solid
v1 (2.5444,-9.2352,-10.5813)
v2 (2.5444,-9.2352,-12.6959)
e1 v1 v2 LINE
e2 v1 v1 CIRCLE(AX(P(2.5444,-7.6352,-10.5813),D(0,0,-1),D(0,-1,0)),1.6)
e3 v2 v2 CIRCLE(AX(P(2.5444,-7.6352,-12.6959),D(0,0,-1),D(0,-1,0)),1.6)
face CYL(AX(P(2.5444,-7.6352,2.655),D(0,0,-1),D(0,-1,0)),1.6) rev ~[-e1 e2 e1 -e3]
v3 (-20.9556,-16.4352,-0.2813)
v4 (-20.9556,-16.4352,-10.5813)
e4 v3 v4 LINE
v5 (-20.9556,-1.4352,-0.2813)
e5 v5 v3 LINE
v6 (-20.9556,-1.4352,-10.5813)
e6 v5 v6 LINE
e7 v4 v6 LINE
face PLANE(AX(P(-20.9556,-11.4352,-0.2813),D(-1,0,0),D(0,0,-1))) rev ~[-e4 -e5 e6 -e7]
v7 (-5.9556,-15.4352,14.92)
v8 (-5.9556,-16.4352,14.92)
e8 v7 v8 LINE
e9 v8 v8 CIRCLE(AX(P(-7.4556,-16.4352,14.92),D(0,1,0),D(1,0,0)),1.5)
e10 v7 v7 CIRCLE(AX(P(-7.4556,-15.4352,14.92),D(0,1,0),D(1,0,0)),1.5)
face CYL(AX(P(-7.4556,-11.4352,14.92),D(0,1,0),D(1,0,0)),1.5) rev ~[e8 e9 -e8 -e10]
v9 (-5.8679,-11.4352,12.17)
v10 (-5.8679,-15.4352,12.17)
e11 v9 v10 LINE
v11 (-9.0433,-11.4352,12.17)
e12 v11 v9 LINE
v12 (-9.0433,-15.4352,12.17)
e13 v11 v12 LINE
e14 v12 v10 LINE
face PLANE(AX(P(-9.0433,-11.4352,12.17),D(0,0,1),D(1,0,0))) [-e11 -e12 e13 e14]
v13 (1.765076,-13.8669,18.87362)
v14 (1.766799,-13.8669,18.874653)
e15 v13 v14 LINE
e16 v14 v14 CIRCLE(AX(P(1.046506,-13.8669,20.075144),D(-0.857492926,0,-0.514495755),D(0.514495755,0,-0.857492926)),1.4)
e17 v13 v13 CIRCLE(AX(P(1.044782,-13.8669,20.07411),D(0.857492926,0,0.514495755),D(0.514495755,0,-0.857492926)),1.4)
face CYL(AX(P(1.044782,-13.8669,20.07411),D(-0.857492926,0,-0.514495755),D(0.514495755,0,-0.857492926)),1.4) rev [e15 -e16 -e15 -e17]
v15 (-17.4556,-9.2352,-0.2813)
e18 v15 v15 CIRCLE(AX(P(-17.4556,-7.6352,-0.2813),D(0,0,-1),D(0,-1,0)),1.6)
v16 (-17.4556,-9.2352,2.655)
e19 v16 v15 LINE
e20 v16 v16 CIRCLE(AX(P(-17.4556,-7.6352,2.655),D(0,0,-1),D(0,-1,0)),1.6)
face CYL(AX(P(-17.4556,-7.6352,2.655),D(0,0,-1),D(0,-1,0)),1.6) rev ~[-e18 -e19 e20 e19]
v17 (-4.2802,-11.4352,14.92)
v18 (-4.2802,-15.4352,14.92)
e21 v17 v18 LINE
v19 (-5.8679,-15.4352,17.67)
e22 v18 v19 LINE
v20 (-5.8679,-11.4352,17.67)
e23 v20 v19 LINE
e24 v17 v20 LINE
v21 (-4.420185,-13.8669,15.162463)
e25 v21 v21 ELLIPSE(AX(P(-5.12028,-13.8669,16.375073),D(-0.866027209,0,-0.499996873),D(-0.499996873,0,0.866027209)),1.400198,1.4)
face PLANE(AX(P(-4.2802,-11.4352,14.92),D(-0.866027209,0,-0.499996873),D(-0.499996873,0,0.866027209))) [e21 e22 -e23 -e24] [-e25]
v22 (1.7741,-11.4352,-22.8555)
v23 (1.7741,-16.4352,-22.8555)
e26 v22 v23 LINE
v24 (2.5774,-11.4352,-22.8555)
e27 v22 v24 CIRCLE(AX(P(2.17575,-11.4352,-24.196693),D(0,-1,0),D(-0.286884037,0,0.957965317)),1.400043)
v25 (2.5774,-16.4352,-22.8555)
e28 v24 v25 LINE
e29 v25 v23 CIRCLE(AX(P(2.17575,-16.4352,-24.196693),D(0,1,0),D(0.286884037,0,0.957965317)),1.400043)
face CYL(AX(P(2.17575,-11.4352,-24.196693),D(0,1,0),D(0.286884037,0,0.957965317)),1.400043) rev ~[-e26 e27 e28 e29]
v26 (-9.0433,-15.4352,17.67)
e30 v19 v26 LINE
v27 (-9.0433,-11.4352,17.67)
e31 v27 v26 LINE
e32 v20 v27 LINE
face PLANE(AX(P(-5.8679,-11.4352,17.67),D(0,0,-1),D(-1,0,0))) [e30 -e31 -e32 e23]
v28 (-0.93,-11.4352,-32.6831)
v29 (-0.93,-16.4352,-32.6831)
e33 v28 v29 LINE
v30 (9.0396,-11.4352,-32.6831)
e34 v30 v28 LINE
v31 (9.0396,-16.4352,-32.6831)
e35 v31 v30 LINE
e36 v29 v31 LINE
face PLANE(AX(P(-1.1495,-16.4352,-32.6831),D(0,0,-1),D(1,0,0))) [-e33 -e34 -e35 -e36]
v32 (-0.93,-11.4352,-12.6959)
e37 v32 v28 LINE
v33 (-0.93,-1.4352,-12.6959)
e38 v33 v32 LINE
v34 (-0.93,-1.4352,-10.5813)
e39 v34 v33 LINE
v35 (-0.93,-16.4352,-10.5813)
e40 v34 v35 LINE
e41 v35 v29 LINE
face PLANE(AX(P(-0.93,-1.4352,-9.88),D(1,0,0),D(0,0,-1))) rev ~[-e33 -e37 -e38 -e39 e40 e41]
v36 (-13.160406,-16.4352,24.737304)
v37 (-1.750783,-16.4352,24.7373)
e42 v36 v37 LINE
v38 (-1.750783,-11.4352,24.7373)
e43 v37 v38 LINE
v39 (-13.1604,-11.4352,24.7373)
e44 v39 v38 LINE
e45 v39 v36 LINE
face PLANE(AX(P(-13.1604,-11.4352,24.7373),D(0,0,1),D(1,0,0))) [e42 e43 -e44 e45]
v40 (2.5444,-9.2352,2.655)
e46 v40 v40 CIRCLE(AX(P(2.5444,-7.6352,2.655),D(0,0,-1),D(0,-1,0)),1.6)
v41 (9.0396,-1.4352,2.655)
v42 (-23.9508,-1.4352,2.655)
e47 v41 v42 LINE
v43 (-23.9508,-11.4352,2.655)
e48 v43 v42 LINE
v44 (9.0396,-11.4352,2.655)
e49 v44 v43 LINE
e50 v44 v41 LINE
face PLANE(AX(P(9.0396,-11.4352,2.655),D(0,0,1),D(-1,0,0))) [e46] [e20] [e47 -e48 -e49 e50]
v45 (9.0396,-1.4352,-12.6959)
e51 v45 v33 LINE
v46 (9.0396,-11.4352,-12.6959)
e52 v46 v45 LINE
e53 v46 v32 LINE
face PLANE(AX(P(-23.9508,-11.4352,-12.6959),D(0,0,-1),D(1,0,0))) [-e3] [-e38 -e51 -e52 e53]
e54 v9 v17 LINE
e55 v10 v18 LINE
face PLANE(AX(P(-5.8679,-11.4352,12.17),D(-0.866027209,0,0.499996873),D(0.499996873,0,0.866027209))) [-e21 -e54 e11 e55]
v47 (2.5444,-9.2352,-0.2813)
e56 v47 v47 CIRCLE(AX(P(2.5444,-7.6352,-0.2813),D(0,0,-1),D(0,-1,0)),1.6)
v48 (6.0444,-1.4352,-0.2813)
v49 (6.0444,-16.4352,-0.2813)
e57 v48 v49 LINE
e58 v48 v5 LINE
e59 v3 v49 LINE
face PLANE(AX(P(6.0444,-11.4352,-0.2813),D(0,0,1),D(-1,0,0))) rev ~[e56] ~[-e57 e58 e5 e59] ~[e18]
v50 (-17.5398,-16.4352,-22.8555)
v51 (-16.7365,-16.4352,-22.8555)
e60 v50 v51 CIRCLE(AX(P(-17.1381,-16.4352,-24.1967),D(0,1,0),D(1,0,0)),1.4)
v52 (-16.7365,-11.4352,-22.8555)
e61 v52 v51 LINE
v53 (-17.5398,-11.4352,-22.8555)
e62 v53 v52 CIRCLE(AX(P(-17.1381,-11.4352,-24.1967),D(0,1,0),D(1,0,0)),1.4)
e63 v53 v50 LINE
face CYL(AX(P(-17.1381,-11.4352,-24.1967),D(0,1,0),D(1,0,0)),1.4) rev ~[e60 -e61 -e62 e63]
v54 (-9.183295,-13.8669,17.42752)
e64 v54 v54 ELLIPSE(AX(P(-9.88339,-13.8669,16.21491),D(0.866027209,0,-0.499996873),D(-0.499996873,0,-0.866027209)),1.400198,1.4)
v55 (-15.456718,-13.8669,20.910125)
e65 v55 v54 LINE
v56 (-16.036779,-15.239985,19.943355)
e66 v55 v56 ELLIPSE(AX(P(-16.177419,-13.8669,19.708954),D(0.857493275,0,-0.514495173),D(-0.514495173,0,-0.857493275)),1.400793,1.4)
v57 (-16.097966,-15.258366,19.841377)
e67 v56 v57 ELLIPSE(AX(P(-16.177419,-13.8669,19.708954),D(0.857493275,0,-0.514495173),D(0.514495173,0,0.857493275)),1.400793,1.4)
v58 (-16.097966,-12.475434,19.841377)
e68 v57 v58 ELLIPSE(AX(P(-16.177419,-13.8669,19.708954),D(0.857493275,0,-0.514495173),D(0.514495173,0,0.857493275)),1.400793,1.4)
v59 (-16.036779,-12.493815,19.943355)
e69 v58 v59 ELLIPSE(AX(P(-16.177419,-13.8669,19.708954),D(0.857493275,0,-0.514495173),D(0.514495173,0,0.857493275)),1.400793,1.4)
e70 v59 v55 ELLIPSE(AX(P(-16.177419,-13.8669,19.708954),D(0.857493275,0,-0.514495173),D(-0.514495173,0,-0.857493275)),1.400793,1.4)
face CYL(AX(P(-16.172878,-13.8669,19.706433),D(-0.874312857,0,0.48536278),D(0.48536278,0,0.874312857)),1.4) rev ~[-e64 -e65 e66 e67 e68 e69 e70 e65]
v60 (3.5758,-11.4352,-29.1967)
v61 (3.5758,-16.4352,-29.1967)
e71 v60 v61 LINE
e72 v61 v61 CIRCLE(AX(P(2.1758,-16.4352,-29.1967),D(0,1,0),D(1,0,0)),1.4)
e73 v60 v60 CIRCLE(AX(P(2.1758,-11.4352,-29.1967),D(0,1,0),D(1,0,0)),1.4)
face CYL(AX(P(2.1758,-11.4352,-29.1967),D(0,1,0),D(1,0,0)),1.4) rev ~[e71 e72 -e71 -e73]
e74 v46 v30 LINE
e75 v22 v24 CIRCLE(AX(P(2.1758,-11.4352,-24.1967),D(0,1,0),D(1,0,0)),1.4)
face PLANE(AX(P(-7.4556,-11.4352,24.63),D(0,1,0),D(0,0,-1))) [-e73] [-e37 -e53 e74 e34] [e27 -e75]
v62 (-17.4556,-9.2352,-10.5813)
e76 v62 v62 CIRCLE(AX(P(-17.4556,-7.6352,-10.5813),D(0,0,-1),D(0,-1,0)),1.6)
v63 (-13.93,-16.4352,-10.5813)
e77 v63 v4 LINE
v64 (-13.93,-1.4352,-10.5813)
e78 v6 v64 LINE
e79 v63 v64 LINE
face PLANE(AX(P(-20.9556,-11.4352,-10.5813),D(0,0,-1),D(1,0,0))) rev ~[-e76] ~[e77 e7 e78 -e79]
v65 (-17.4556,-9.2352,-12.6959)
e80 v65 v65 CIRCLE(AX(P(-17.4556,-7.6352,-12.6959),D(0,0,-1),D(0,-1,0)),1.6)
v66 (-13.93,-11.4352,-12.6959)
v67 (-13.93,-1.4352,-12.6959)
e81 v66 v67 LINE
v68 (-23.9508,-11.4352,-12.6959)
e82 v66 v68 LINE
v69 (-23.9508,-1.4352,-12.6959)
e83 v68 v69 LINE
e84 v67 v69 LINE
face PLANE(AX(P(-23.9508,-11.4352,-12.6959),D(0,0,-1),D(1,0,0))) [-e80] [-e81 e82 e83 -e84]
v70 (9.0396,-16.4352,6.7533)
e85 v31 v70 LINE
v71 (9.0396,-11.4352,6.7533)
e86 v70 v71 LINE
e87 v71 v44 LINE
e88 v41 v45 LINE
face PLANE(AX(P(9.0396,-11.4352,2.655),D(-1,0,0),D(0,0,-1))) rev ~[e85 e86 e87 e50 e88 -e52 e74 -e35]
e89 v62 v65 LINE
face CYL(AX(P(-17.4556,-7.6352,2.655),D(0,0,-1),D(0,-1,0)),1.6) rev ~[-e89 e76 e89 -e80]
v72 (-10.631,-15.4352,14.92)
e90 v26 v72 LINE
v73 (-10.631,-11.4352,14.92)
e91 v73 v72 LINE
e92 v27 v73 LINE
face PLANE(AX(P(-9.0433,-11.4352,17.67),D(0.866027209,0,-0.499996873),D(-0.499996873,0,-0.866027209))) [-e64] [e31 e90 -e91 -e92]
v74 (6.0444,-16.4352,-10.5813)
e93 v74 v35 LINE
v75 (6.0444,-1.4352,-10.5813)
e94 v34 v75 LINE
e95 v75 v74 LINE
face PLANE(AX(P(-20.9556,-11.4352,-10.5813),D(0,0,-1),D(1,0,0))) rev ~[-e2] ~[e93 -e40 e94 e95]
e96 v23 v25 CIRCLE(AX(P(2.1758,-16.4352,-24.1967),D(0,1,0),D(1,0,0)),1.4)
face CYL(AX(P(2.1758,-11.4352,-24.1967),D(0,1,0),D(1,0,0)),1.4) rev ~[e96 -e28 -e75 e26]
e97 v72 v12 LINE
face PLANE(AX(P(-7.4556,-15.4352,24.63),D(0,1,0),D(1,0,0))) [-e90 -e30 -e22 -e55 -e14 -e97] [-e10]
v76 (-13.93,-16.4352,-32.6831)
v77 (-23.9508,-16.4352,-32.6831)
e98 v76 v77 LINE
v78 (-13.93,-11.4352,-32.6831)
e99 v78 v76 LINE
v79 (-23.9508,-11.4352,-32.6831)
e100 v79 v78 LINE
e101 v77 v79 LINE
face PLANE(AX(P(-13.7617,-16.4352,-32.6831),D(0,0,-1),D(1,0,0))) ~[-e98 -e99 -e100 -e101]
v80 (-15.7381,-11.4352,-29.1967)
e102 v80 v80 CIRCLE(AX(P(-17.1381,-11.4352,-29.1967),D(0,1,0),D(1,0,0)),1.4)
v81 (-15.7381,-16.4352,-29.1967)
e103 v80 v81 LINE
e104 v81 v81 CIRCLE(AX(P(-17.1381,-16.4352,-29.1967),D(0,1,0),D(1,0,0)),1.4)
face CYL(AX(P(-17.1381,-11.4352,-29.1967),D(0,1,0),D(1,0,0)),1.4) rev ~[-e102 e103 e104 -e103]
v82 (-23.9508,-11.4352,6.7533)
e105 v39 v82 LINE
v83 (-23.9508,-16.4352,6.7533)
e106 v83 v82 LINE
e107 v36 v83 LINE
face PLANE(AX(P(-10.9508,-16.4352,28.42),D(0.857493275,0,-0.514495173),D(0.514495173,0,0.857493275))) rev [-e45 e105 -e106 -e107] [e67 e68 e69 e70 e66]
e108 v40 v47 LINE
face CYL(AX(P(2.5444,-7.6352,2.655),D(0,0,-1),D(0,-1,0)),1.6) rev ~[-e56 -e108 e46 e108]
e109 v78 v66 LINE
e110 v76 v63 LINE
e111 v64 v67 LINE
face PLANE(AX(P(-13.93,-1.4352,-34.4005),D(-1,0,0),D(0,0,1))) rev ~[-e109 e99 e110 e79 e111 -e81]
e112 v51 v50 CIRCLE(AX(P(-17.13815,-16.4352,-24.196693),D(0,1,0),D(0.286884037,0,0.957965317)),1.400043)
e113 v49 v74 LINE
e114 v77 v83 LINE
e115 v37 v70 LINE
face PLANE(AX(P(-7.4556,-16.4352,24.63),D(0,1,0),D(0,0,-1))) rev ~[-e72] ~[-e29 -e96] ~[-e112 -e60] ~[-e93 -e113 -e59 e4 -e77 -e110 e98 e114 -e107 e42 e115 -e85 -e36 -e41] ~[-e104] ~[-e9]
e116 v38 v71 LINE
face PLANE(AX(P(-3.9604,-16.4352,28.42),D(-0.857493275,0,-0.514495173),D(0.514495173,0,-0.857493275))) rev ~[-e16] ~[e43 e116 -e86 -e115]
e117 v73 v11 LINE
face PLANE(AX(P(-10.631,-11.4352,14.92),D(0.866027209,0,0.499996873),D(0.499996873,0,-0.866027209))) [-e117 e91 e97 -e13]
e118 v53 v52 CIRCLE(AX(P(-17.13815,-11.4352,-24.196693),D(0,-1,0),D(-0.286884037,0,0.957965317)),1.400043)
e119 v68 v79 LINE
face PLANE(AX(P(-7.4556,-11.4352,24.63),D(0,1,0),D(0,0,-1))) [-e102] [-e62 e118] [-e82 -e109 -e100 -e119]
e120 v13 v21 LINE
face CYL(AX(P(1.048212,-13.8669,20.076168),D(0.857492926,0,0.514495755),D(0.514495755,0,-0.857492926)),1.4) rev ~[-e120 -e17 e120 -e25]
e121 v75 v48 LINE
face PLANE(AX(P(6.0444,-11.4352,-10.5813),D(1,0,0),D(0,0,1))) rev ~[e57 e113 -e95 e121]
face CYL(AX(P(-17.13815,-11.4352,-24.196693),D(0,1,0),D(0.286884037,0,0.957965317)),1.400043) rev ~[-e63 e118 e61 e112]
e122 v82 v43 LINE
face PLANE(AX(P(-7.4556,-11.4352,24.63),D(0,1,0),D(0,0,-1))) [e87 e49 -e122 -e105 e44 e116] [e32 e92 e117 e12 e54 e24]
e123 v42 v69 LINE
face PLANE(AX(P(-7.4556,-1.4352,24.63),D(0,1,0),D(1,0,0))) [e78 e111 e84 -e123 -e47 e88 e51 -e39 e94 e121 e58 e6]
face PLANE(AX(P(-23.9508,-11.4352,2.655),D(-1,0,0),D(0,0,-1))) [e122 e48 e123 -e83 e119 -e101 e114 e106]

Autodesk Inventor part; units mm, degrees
ref_plane "YZ Plane" through (0, 0, 0) normal (1, 0, 0) x (0, 1, 0)
ref_plane "XZ Plane" through (0, 0, 0) normal (0, 1, 0) x (-1, 0, 0)
ref_plane "XY Plane" through (0, 0, 0) normal (0, 0, 1) x (1, 0, 0)
ref_plane "Work Plane8" through (-7.4556, -16.4352, 24.63) normal (0, 1, 0) x (0, 0, -1)
sketch "Sketch12" plane through (-7.4556, -16.4352, 24.63) normal (0, 1, 0) x (0, 0, -1)
  line L0 (59.1648, 4.9103) -> (72.1552, 12.4103) construction
  arc A0 (80.66, 7.5) -> (72.1552, 12.4103) centre (70.66, 0) ccw construction
  line L1 (80.66, 7.5) -> (80.66, -7.5) construction
  arc A1 (72.1552, -12.4103) -> (80.66, -7.5) centre (70.66, 0) ccw construction
  line L2 (72.1552, -12.4103) -> (59.1648, -4.9103) construction
  arc A2 (59.1648, 4.9103) -> (59.1648, -4.9103) centre (70.66, 0) ccw construction
  line L3 (57.3131, 5.945) -> (46.6951, 5.945) construction
  line L4 (46.6951, 5.945) -> (46.6951, -5.9961)
  line L5 (46.6951, -5.9961) -> (57.3131, -5.9961)
  line L6 (57.3131, -5.9961) -> (57.3131, -15)
  line L7 (57.3131, -15) -> (85.66, -15) construction
  line L8 (85.66, -15) -> (85.66, 15) construction
  line L9 (85.66, 15) -> (57.3131, 15) construction
  line L10 (57.3131, 15) -> (57.3131, 5.945) construction
  line L11 (46.6951, -6.3061) -> (57.3131, -6.3061)
  line L12 (41.63, -16.87) -> (45.71, -16.87) projected
  line L13 (55.66, -15) -> (46.2855, -13.3689) projected
  line L14 (55.66, -15) -> (105.1976, -15) construction
  line L15 (46.6951, 0) -> (46.6951, -6.3061)
  line L16 (9.71, -3.1754) -> (12.46, -1.5877) construction
  line L17 (12.46, -1.5877) -> (12.46, 1.5877) construction
  line L18 (12.46, 1.5877) -> (9.71, 3.1754) construction
  line L19 (9.71, 3.1754) -> (6.96, 1.5877) construction
  line L20 (6.96, 1.5877) -> (6.96, -1.5877) construction
  line L21 (6.96, -1.5877) -> (9.71, -3.1754) construction
  line L22 (-3.79, -3.4952) -> (-3.79, 3.4952)
  line L23 (-3.79, 0) -> (-3.79, 0)
  line L24 (-3.79, 0) -> (-3.79, -3.4952)
  line L25 (-3.79, -3.4952) -> (17.8767, -16.4952)
  line L26 (46.6951, 0) -> (-3.79, 0)
  line L27 (57.3131, -6.3061) -> (57.3131, -15)
  line L28 (-3.79, -8.16) -> (-3.79, 8.16) projected
  line L29 (19.46, 16.4952) -> (10.1021, 16.4952) projected
  line L30 (19.46, -16.4952) -> (19.46, 16.4952) projected
  line L31 (10.1021, -16.4952) -> (19.46, -16.4952) projected
  line L32 (10.1021, 16.4952) -> (-3.79, 8.16) projected
  line L33 (-3.79, -8.16) -> (10.1021, -16.4952) projected
  line L34 (17.8767, -16.4952) -> (57.3131, -16.4952)
  line L35 (57.3131, -16.4952) -> (57.3131, -15)
  line L36 (57.3131, -15) -> (37.3669, -15)
  line L37 (39.63, 0) -> (49.93, 0)
  line L38 (49.93, 0) -> (49.93, -12.8511)
  line L39 (49.93, -12.8511) -> (39.63, -12.8511)
  line L40 (39.63, -12.8511) -> (39.63, 0)
  line L41 (52.63, -16.0211) -> (18.69, -16.0211) construction
  line L42 (18.69, 17.9189) -> (52.63, 17.9189) projected
  arc A3 (48.3173, -4.8992) -> (48.4594, -5.1011) centre (48.5983, -4.8523) ccw projected
  line L43 (48.4594, -5.1011) -> (52.63, -5.1011) projected
  line L44 (52.63, -5.1011) -> (52.63, 6.9989) projected
  line L45 (48.4594, 6.9989) -> (52.63, 6.9989) projected
  arc A4 (48.4594, 6.9989) -> (48.3173, 6.7971) centre (48.5983, 6.7502) ccw projected
  arc A5 (47.9241, 6.5003) -> (48.3173, 6.7971) centre (47.4153, 7.5832) ccw projected
  arc A6 (47.9241, 6.5003) -> (47.8129, 6.374) centre (48.0446, 6.2821) ccw projected
  line L46 (47.7741, 5.8769) -> (47.8129, 6.374) projected
  arc A7 (47.5555, 5.6489) -> (47.7741, 5.8769) centre (47.5256, 5.8964) ccw projected
  line L47 (47.1044, 5.6489) -> (47.5555, 5.6489) projected
  arc A8 (46.8561, 5.8765) -> (47.1044, 5.6489) centre (47.1044, 5.8982) ccw projected
  line L48 (46.8241, 6.242) -> (46.8561, 5.8765) projected
  arc A9 (46.8241, 6.242) -> (46.6712, 6.5003) centre (46.5764, 6.2698) ccw projected
  arc A10 (46.1533, 6.8443) -> (46.6712, 6.5003) centre (47.0626, 7.6514) ccw projected
  arc A11 (46.1533, 6.8443) -> (45.93, 6.9989) centre (45.9227, 6.7498) ccw projected
  line L49 (45.33, 6.9989) -> (45.93, 6.9989) projected
  line L50 (44.83, 6.4989) -> (45.33, 6.9989) projected
  line L51 (44.83, 6.4989) -> (44.83, -4.6011) projected
  line L52 (44.83, -4.6011) -> (45.33, -5.1011) projected
  line L53 (45.33, -5.1011) -> (45.93, -5.1011) projected
  arc A12 (45.93, -5.1011) -> (46.1533, -4.9464) centre (45.9227, -4.8519) ccw projected
  arc A13 (46.6712, -4.6024) -> (46.1533, -4.9464) centre (47.0626, -5.7535) ccw projected
  arc A14 (46.6712, -4.6024) -> (46.8241, -4.3441) centre (46.5764, -4.3719) ccw projected
  line L54 (46.8241, -4.3441) -> (46.8561, -3.9786) projected
  arc A15 (47.1044, -3.7511) -> (46.8561, -3.9786) centre (47.1044, -4.0003) ccw projected
  line L55 (47.1044, -3.7511) -> (47.5555, -3.7511) projected
  arc A16 (47.7741, -3.9791) -> (47.5555, -3.7511) centre (47.5256, -3.9985) ccw projected
  line L56 (47.7741, -3.9791) -> (47.8129, -4.4761) projected
  arc A17 (47.8129, -4.4761) -> (47.9241, -4.6024) centre (48.0446, -4.3842) ccw projected
  arc A18 (48.3173, -4.8992) -> (47.9241, -4.6024) centre (47.4153, -5.6854) ccw projected
  arc A19 (48.2566, -4.8959) -> (47.7572, -4.3183) centre (47.1462, -5.3511) ccw construction
  arc A20 (47.6355, -4.1249) -> (47.7572, -4.3183) centre (47.8845, -4.1031) ccw construction
  line L57 (47.6355, -4.1249) -> (47.6053, -3.7793) construction
  arc A21 (47.6053, -3.7793) -> (47.3562, -3.5511) centre (47.3562, -3.8011) ccw construction
  line L58 (47.3562, -3.5511) -> (46.9038, -3.5511) construction
  arc A22 (46.9038, -3.5511) -> (46.6547, -3.7793) centre (46.9038, -3.8011) ccw construction
  line L59 (46.6547, -3.7793) -> (46.6227, -4.1458) construction
  arc A23 (46.5068, -4.3356) -> (46.6227, -4.1458) centre (46.3736, -4.124) ccw construction
  arc A24 (46.5068, -4.3356) -> (46.0359, -4.8959) centre (47.1462, -5.3511) ccw construction
  arc A25 (45.8046, -5.0511) -> (46.0359, -4.8959) centre (45.8046, -4.8011) ccw construction
  line L60 (45.8046, -5.0511) -> (45.13, -5.0511) construction
  line L61 (45.13, -5.0511) -> (44.63, -4.5511) construction
  line L62 (44.63, -4.5511) -> (44.63, 6.4489) construction
  line L63 (44.63, 6.4489) -> (45.13, 6.9489) construction
  line L64 (45.13, 6.9489) -> (45.8046, 6.9489) construction
  arc A26 (46.0359, 6.7938) -> (45.8046, 6.9489) centre (45.8046, 6.6989) ccw construction
  arc A27 (46.0359, 6.7938) -> (46.5068, 6.2335) centre (47.1462, 7.2489) ccw construction
  arc A28 (46.6227, 6.0437) -> (46.5068, 6.2335) centre (46.3736, 6.0219) ccw construction
  line L65 (46.6227, 6.0437) -> (46.6547, 5.6771) construction
  arc A29 (46.6547, 5.6771) -> (46.9038, 5.4489) centre (46.9038, 5.6989) ccw construction
  line L66 (46.9038, 5.4489) -> (47.3562, 5.4489) construction
  arc A30 (47.3562, 5.4489) -> (47.6053, 5.6771) centre (47.3562, 5.6989) ccw construction
  line L67 (47.6053, 5.6771) -> (47.6355, 6.0228) construction
  arc A31 (47.7572, 6.2161) -> (47.6355, 6.0228) centre (47.8845, 6.001) ccw construction
  arc A32 (47.7572, 6.2161) -> (48.2566, 6.7938) centre (47.1462, 7.2489) ccw construction
  arc A33 (48.4879, 6.9489) -> (48.2566, 6.7938) centre (48.4879, 6.6989) ccw construction
  line L68 (48.4879, 6.9489) -> (49.63, 6.9489) construction
  line L69 (49.63, 6.9489) -> (49.63, 13.8489) construction
  line L70 (49.63, 13.8489) -> (49.03, 14.4489) construction
  line L71 (49.03, 14.4489) -> (45.63, 14.4489) construction
  arc A34 (44.83, 14.4489) -> (45.63, 14.4489) centre (45.23, 14.7489) ccw construction
  line L72 (44.83, 14.4489) -> (40.23, 14.4489) construction
  line L73 (40.23, 14.4489) -> (39.63, 13.8489) construction
  line L74 (39.63, 13.8489) -> (39.63, 7.3489) construction
  line L75 (39.63, 7.3489) -> (40.03, 6.9489) construction
  line L76 (40.03, 6.9489) -> (40.03, -5.0511) construction
  line L77 (40.03, -5.0511) -> (39.63, -5.4511) construction
  line L78 (39.63, -5.4511) -> (39.63, -11.951) construction
  line L79 (39.63, -11.951) -> (40.23, -12.5511) construction
  line L80 (40.23, -12.5511) -> (49.03, -12.5511) construction
  line L81 (49.03, -12.5511) -> (49.63, -11.9511) construction
  line L82 (49.63, -11.9511) -> (49.63, -5.0511) construction
  line L83 (49.63, -5.0511) -> (48.4879, -5.0511) construction
  arc A35 (48.2566, -4.8959) -> (48.4879, -5.0511) centre (48.4879, -4.8011) ccw construction
  point P0 (24.63, -7.4556)
  point P1 (11.21, -12.4952)
  point P2 (19.46, 12.4952)
  point P3 (19.46, -12.4952)
  dimension "d114" = 5.1011
  dimension "d115" = 6.9989
  dimension "d116" = 0.3
  dimension "d117" = 0.3
  dimension "d123" = 0
extrude "Extrusion11" add sketch "Sketch12" along normal blind 5 contours L37 L38 L43 A3 A18 A17 L56 A16 L55 A15 L54 A14 L4 | L4 A14 A13 A12 L53 L52 L51 L26 | A14 L54 A15 L55 A16 L56 A17 A18 A3 L43 L38 L5 L4 | L4 L15 L11 L38 L39 L40 L26 L51 L52 L53 A12 A13 A14 | L5 L38 L11 L15 | L40 L39 L38 L11 L6 L35 L34 L30 L26 | L30 L31 L25 L22 L26
sketch "Sketch13" plane through (-7.4556, -11.4352, 24.63) normal (0, 1, 0) x (1, 0, 0)
  line L0 (-13.1744, 24.9113) -> (13.5, 24.9113)
  line L1 (13.5, 24.9113) -> (13.5, 35.2113)
  line L2 (13.5, 35.2113) -> (-13.1744, 35.2113)
  line L3 (-13.1744, 35.2113) -> (-13.1744, 24.9113)
  line L4 (-13.5, 34.3113) -> (-13.5, 26.5113) construction
  line L5 (-13.5, 26.5113) -> (-12.3, 25.3113) construction
  line L6 (-12.3, 25.3113) -> (11.7, 25.3113) construction
  line L7 (11.7, 25.3113) -> (12.9, 26.5113) construction
  line L8 (12.9, 26.5113) -> (12.9, 34.3113) construction
  line L9 (12.9, 34.3113) -> (12.3, 34.9113) construction
  line L10 (12.3, 34.9113) -> (5.7, 34.9113) construction
  line L11 (5.7, 34.9113) -> (5.7, 33.7692) construction
  arc A0 (5.5448, 33.5379) -> (5.7, 33.7692) centre (5.45, 33.7692) ccw construction
  arc A1 (5.5448, 33.5379) -> (4.9672, 33.0386) centre (6, 32.4276) ccw construction
  arc A2 (4.7738, 32.9168) -> (4.9672, 33.0386) centre (4.752, 33.1659) ccw construction
  line L12 (4.7738, 32.9168) -> (4.4282, 32.8866) construction
  arc A3 (4.4282, 32.8866) -> (4.2, 32.6375) centre (4.45, 32.6375) ccw construction
  line L13 (4.2, 32.6375) -> (4.2, 32.1851) construction
  arc A4 (4.2, 32.1851) -> (4.4282, 31.9361) centre (4.45, 32.1851) ccw construction
  line L14 (4.4282, 31.9361) -> (4.7947, 31.904) construction
  arc A5 (4.9845, 31.7882) -> (4.7947, 31.904) centre (4.773, 31.6549) ccw construction
  arc A6 (4.9845, 31.7882) -> (5.5448, 31.3172) centre (6, 32.4276) ccw construction
  arc A7 (5.7, 31.0859) -> (5.5448, 31.3172) centre (5.45, 31.0859) ccw construction
  line L15 (5.7, 31.0859) -> (5.7, 30.4113) construction
  line L16 (5.7, 30.4113) -> (5.2, 29.9113) construction
  line L17 (5.2, 29.9113) -> (-5.8, 29.9113) construction
  line L18 (-5.8, 29.9113) -> (-6.3, 30.4113) construction
  line L19 (-6.3, 30.4113) -> (-6.3, 31.0859) construction
  arc A8 (-6.1448, 31.3172) -> (-6.3, 31.0859) centre (-6.05, 31.0859) ccw construction
  arc A9 (-6.1448, 31.3172) -> (-5.5845, 31.7882) centre (-6.6, 32.4276) ccw construction
  arc A10 (-5.3948, 31.904) -> (-5.5845, 31.7882) centre (-5.373, 31.6549) ccw construction
  line L20 (-5.3948, 31.904) -> (-5.0282, 31.9361) construction
  arc A11 (-5.0282, 31.9361) -> (-4.8, 32.1851) centre (-5.05, 32.1851) ccw construction
  line L21 (-4.8, 32.1851) -> (-4.8, 32.6375) construction
  arc A12 (-4.8, 32.6375) -> (-5.0282, 32.8866) centre (-5.05, 32.6375) ccw construction
  line L22 (-5.0282, 32.8866) -> (-5.3738, 32.9168) construction
  arc A13 (-5.5672, 33.0386) -> (-5.3738, 32.9168) centre (-5.352, 33.1659) ccw construction
  arc A14 (-5.5672, 33.0386) -> (-6.1448, 33.5379) centre (-6.6, 32.4276) ccw construction
  arc A15 (-6.3, 33.7692) -> (-6.1448, 33.5379) centre (-6.05, 33.7692) ccw construction
  line L23 (-6.3, 33.7692) -> (-6.3, 34.9113) construction
  line L24 (-6.3, 34.9113) -> (-12.9, 34.9113) construction
  line L25 (-12.9, 34.9113) -> (-13.5, 34.3113) construction
  circle A16 centre (-7.2, 27.9063) radius 2.1 construction
  circle A17 centre (6.6, 27.9063) radius 2.1 construction
  arc A18 (5.5448, 33.5379) -> (4.9672, 33.0386) centre (6, 32.4276) ccw construction
  arc A19 (4.7738, 32.9168) -> (4.9672, 33.0386) centre (4.752, 33.1659) ccw construction
  line L26 (4.7738, 32.9168) -> (4.4282, 32.8866) construction
  arc A20 (4.4282, 32.8866) -> (4.2, 32.6375) centre (4.45, 32.6375) ccw construction
  line L27 (4.2, 32.6375) -> (4.2, 32.1851) construction
  arc A21 (4.2, 32.1851) -> (4.4282, 31.9361) centre (4.45, 32.1851) ccw construction
  line L28 (4.4282, 31.9361) -> (4.7948, 31.904) construction
  arc A22 (4.9845, 31.7882) -> (4.7948, 31.904) centre (4.773, 31.6549) ccw construction
  arc A23 (4.9845, 31.7882) -> (5.5448, 31.3172) centre (6, 32.4276) ccw construction
  arc A24 (5.7, 31.0859) -> (5.5448, 31.3172) centre (5.45, 31.0859) ccw construction
  line L29 (5.7, 31.0859) -> (5.7, 30.4113) construction
  line L30 (5.7, 30.4113) -> (5.2, 29.9113) construction
  line L31 (5.2, 29.9113) -> (-5.8, 29.9113) construction
  line L32 (-5.8, 29.9113) -> (-6.3, 30.4113) construction
  line L33 (-6.3, 30.4113) -> (-6.3, 31.0859) construction
  arc A25 (-6.1448, 31.3172) -> (-6.3, 31.0859) centre (-6.05, 31.0859) ccw construction
  arc A26 (-6.1448, 31.3172) -> (-5.5846, 31.7882) centre (-6.6, 32.4276) ccw construction
  arc A27 (-5.3948, 31.904) -> (-5.5846, 31.7882) centre (-5.373, 31.6549) ccw construction
  line L34 (-5.3948, 31.904) -> (-5.0282, 31.9361) construction
  arc A28 (-5.0282, 31.9361) -> (-4.8, 32.1851) centre (-5.05, 32.1851) ccw construction
  line L35 (-4.8, 32.1851) -> (-4.8, 32.6375) construction
  arc A29 (-4.8, 32.6375) -> (-5.0282, 32.8866) centre (-5.05, 32.6375) ccw construction
  line L36 (-5.0282, 32.8866) -> (-5.3738, 32.9168) construction
  arc A30 (-5.5672, 33.0386) -> (-5.3738, 32.9168) centre (-5.3521, 33.1659) ccw construction
  arc A31 (-5.5672, 33.0386) -> (-6.1448, 33.5379) centre (-6.6, 32.4276) ccw construction
  arc A32 (-6.3, 33.7692) -> (-6.1448, 33.5379) centre (-6.05, 33.7692) ccw construction
  line L37 (-6.3, 33.7692) -> (-6.3, 34.9113) construction
  line L38 (-6.3, 34.9113) -> (-13.2, 34.9113) construction
  line L39 (-13.2, 34.9113) -> (-13.8, 34.3113) construction
  line L40 (-13.8, 34.3113) -> (-13.8, 30.9113) construction
  arc A33 (-13.8, 30.1113) -> (-13.8, 30.9113) centre (-14.1, 30.5113) ccw construction
  line L41 (-13.8, 30.1113) -> (-13.8, 25.5113) construction
  line L42 (-13.8, 25.5113) -> (-13.2, 24.9113) construction
  line L43 (-13.2, 24.9113) -> (-6.7, 24.9113) construction
  line L44 (-6.7, 24.9113) -> (-6.3, 25.3113) construction
  line L45 (-6.3, 25.3113) -> (5.7, 25.3113) construction
  line L46 (5.7, 25.3113) -> (6.1, 24.9113) construction
  line L47 (6.1, 24.9113) -> (12.6, 24.9113) construction
  line L48 (12.6, 24.9113) -> (13.2, 25.5113) construction
  line L49 (13.2, 25.5113) -> (13.2, 34.3113) construction
  line L50 (13.2, 34.3113) -> (12.6, 34.9113) construction
  line L51 (12.6, 34.9113) -> (5.7, 34.9113) construction
  line L52 (5.7, 34.9113) -> (5.7, 33.7692) construction
  arc A34 (5.5448, 33.5379) -> (5.7, 33.7692) centre (5.45, 33.7692) ccw construction
  point P0 (7.4556, 24.63)
  dimension "d110" = 0.3
  dimension "d111" = 0.3
extrude "Extrusion12" cut sketch "Sketch13" against normal through all
mirror "Mirror3" about plane through (-7.4556, -16.4352, -22.0651) normal (-1, 0, 0) of "Extrusion11", "Extrusion12"
sketch "Sketch18" plane through (-7.4556, -11.4352, 24.63) normal (0, 1, 0) x (1, 0, 0)
  line L0 (-16.4952, 17.8767) -> (-16.4952, 57.3131) projected
  line L1 (16.4952, 17.8767) -> (16.4952, 57.3131) projected
  line L2 (16.4952, 25.975) -> (16.4952, 21.975)
  line L3 (16.4952, 21.975) -> (-16.4952, 21.975)
  line L4 (-16.4952, 21.975) -> (-16.4952, 25.975)
  line L5 (15, 37.3669) -> (15, 37.2259) projected
  line L6 (-15, 37.2259) -> (15, 37.2259) construction
  line L7 (-16.4952, 37.3259) -> (16.4952, 37.3259)
  line L8 (16.4952, 17.8767) -> (16.4952, 57.3131) projected
  line L9 (-16.4952, 37.3259) -> (16.4952, 37.3259) construction
  line L10 (-13.5, 35.2113) -> (13.5, 35.2113)
  line L11 (13.5, 35.2113) -> (13.5, 24.9113)
  line L12 (13.5, 24.9113) -> (-13.5, 24.9113)
  line L13 (-13.5, 24.9113) -> (-13.5, 35.2113)
  line L14 (-16.4952, 37.3259) -> (16.4952, 37.3259)
  line L15 (16.4952, 37.3259) -> (16.4952, 21.975)
  line L16 (16.4952, 21.975) -> (-16.4952, 21.975)
  line L17 (-16.4952, 21.975) -> (-16.4952, 37.3259)
  point P0 (7.4556, 24.63)
  dimension "d85" = 4
  dimension "d96" = 0
extrude "Extrusion17" add sketch "Sketch18" along normal blind 10
sketch "Sketch19" plane through (-23.9508, -11.4352, 2.655) normal (0, 0, 1) x (1, 0, 0)
  circle A0 centre (6.4952, 3.8) radius 1.25
  circle A1 centre (26.4952, 3.8) radius 1.5
  point P0 (4.9348, 6.8)
  point P1 (24.9348, 6.8)
hole "Hole1" at (-17.4556, -7.6352, 2.655) at (2.5444, -7.6352, 2.655) direction (0, 0, -1) diameter 3.2 end through all
sketch "Sketch20" plane through (-7.4556, -11.4352, 24.63) normal (0, 1, 0) x (1, 0, 0)
  circle A0 centre (-10.5315, 68.5467) radius 1.4 projected
  circle A1 centre (8.7824, 68.5467) radius 1.4 projected
  arc A2 (-10.1298, 62.2055) -> (-10.9331, 62.2055) centre (-10.5315, 63.5467) ccw projected
  arc A3 (9.1841, 62.2055) -> (8.3808, 62.2055) centre (8.7824, 63.5467) ccw projected
  circle A4 centre (-10.5315, 63.5467) radius 1.4
  circle A5 centre (8.7824, 63.5467) radius 1.4
  point P0 (7.4556, 24.63)
extrude "Extrusion18" cut sketch "Sketch20" against normal blind 10
sketch "Sketch21" plane through (-7.4556, -1.4352, 24.63) normal (0, 1, 0) x (1, 0, 0)
  line L0 (-13.1744, 33.91) -> (-13.1744, 26.11) projected
  line L1 (-13.1744, 26.11) -> (-11.9744, 24.91) projected
  line L2 (-11.9744, 24.91) -> (12.0256, 24.91) projected
  line L3 (12.0256, 24.91) -> (13.2256, 26.11) projected
  line L4 (13.2256, 26.11) -> (13.2256, 33.91) projected
  line L5 (13.2256, 33.91) -> (12.6256, 34.51) projected
  line L6 (12.6256, 34.51) -> (6.0256, 34.51) projected
  line L7 (6.0256, 34.51) -> (6.0256, 33.3679) projected
  arc A0 (5.8704, 33.1366) -> (6.0256, 33.3679) centre (5.7756, 33.3679) ccw projected
  arc A1 (5.8704, 33.1366) -> (5.2928, 32.6373) centre (6.3256, 32.0262) ccw projected
  arc A2 (5.0994, 32.5155) -> (5.2928, 32.6373) centre (5.0776, 32.7645) ccw projected
  line L8 (5.0994, 32.5155) -> (4.7538, 32.4853) projected
  arc A3 (4.7538, 32.4853) -> (4.5256, 32.2362) centre (4.7756, 32.2362) ccw projected
  line L9 (4.5256, 32.2362) -> (4.5256, 31.7838) projected
  arc A4 (4.5256, 31.7838) -> (4.7538, 31.5348) centre (4.7756, 31.7838) ccw projected
  line L10 (4.7538, 31.5348) -> (5.1203, 31.5027) projected
  arc A5 (5.3101, 31.3868) -> (5.1203, 31.5027) centre (5.0985, 31.2536) ccw projected
  arc A6 (5.3101, 31.3868) -> (5.8704, 30.9159) centre (6.3256, 32.0262) ccw projected
  arc A7 (6.0256, 30.6846) -> (5.8704, 30.9159) centre (5.7756, 30.6846) ccw projected
  line L11 (6.0256, 30.6846) -> (6.0256, 30.01) projected
  line L12 (6.0256, 30.01) -> (5.5256, 29.51) projected
  line L13 (5.5256, 29.51) -> (-5.4744, 29.51) projected
  line L14 (-5.4744, 29.51) -> (-5.9744, 30.01) projected
  line L15 (-5.9744, 30.01) -> (-5.9744, 30.6846) projected
  arc A8 (-5.8192, 30.9159) -> (-5.9744, 30.6846) centre (-5.7244, 30.6846) ccw projected
  arc A9 (-5.8192, 30.9159) -> (-5.259, 31.3868) centre (-6.2744, 32.0262) ccw projected
  arc A10 (-5.0692, 31.5027) -> (-5.259, 31.3868) centre (-5.0474, 31.2536) ccw projected
  line L16 (-5.0692, 31.5027) -> (-4.7026, 31.5347) projected
  arc A11 (-4.7026, 31.5347) -> (-4.4744, 31.7838) centre (-4.7244, 31.7838) ccw projected
  line L17 (-4.4744, 31.7838) -> (-4.4744, 32.2362) projected
  arc A12 (-4.4744, 32.2362) -> (-4.7026, 32.4853) centre (-4.7244, 32.2362) ccw projected
  line L18 (-4.7026, 32.4853) -> (-5.0482, 32.5155) projected
  arc A13 (-5.2416, 32.6373) -> (-5.0482, 32.5155) centre (-5.0265, 32.7645) ccw projected
  arc A14 (-5.2416, 32.6373) -> (-5.8192, 33.1366) centre (-6.2744, 32.0262) ccw projected
  arc A15 (-5.9744, 33.3679) -> (-5.8192, 33.1366) centre (-5.7244, 33.3679) ccw projected
  line L19 (-5.9744, 33.3679) -> (-5.9744, 34.51) projected
  line L20 (-5.9744, 34.51) -> (-12.5744, 34.51) projected
  line L21 (-12.5744, 34.51) -> (-13.1744, 33.91) projected
  circle A16 centre (-6.8744, 27.505) radius 2.1 projected
  circle A17 centre (6.9256, 27.505) radius 2.1 projected
  line L22 (-6.4744, 28.46) -> (6.5256, 28.46)
  line L23 (6.5256, 28.46) -> (6.5256, 59.0305)
  line L24 (6.5256, 59.0305) -> (-6.4744, 59.0305)
  line L25 (-6.4744, 59.0305) -> (-6.4744, 28.46)
  point P0 (7.4556, 24.63)
  dimension "d99" = 0.5
  dimension "d100" = 0.5
extrude "Extrusion19" cut sketch "Sketch21" against normal through all contours L25 L24 L23 L6 L7 A0 A1 A2 L8 A3 L9 A4 L10 A5 A6 A7 L11 L12 L13 L14 L15 A8 A9 A10 L16 A11 L17 A12 L18 A13 A14 A15 L19 L20 | L20 L19 A15 A14 A13 L18 A12 L17 A11 L16 A10 A9 A8 L15 L14 L13 L12 L11 A7 A6 A5 L10 A4 L9 A3 L8 A2 A1 A0 L7 L6 L23 A17 L22 A16 L25 | A16 L22 L25 | A17 L23 L22 picked at (-5.5817, 28.592) picked at (5.6329, 28.592)
sketch "Skizze24" plane through (-7.4556, -11.4352, 24.63) normal (0, 1, 0) x (1, 0, 0)
  circle A0 centre (-6.4952, 13.46) radius 4 projected
  line L0 (0, 5.96) -> (-3.2476, 11.585) construction
  line L1 (-3.2476, 11.585) -> (3.2476, 11.585) construction
  line L2 (3.2476, 11.585) -> (0, 5.96) construction
  circle A1 centre (0, 9.71) radius 1.875 construction
  circle A2 centre (0, 9.71) radius 1.5
  point P0 (7.4556, 24.63)
  dimension "d118" = 3
extrude "Extrusion22" cut sketch "Skizze24" against normal blind 10 contours A2
sketch "Skizze25" plane through (-7.4556, -11.4352, 24.63) normal (0, 1, 0) x (1, 0, 0)
  circle A0 centre (-11.0825, 81.36) radius 2.45 projected
  circle A1 centre (0, 56.5203) radius 2.45 projected
  circle A2 centre (11.0314, 81.36) radius 2.45 projected
  line L0 (5.945, 49.7974) -> (5.945, 47.4855) projected
  line L1 (5.945, 47.4855) -> (9.2297, 47.4855) projected
  arc A3 (10.033, 47.4855) -> (9.2297, 47.4855) centre (9.6314, 48.8267) ccw projected
  line L2 (10.033, 47.4855) -> (13.4972, 47.4855) projected
  line L3 (13.4972, 47.4855) -> (15, 55.86) projected
  line L4 (15, 55.86) -> (15, 85.86) projected
  line L5 (15, 85.86) -> (-15, 85.86) projected
  line L6 (-15, 85.86) -> (-15, 55.86) projected
  line L7 (-15, 55.86) -> (-13.5429, 47.4855) projected
  line L8 (-13.5429, 47.4855) -> (-10.0842, 47.4855) projected
  arc A4 (-9.2809, 47.4855) -> (-10.0842, 47.4855) centre (-9.6825, 48.8267) ccw projected
  line L9 (-9.2809, 47.4855) -> (-5.9961, 47.4855) projected
  line L10 (-5.9961, 47.4855) -> (-5.9961, 49.7974) projected
  line L11 (-5.9961, 49.7974) -> (5.945, 49.7974) projected
  circle A5 centre (0, 70.86) radius 10.5 projected
  circle A6 centre (-9.6825, 53.8267) radius 1.4 projected
  circle A7 centre (9.6314, 53.8267) radius 1.4 projected
  circle A8 centre (9.6314, 48.8267) radius 1.4
  circle A9 centre (-9.6825, 48.8267) radius 1.4
  point P0 (7.4556, 24.63)
  point P1 (-10.0842, 47.4855)
  point P2 (-9.2809, 47.4855)
extrude "Extrusion23" cut sketch "Skizze25" against normal blind 10 contours A3 A8 | A9 A4 | A6 | A7
ref_plane "Arbeitsebene9" through (-7.4556, -16.4352, 6.7533) normal (1, 0, 0) x (0, 0, -1)
ref_plane "Arbeitsebene10" through (-7.4556, -16.4352, -32.6831) normal (-1, 0, 0) x (0, 0, 1)
sketch "Skizze26" plane through (-7.4556, -11.4352, 24.63) normal (0, 1, 0) x (1, 0, 0)
  circle A0 centre (0, 9.71) radius 1.5 projected
  line L0 (-1.5877, 6.96) -> (-3.1754, 9.71)
  line L1 (-3.1754, 9.71) -> (-1.5877, 12.46)
  line L2 (-1.5877, 12.46) -> (1.5877, 12.46)
  line L3 (1.5877, 12.46) -> (3.1754, 9.71)
  line L4 (3.1754, 9.71) -> (1.5877, 6.96)
  line L5 (1.5877, 6.96) -> (-1.5877, 6.96)
  line L6 (3.4952, -3.79) -> (-3.4952, -3.79) projected
  point P0 (7.4556, 24.63)
  point P1 (-1.199, 6.96)
  point P2 (1.199, 6.96)
  point P3 (1.7821, 7.2967)
  point P4 (2.981, 9.3733)
  point P5 (2.981, 10.0467)
  point P6 (1.7821, 12.1233)
  point P7 (1.199, 12.46)
  point P8 (-1.199, 12.46)
  point P9 (-1.7821, 12.1233)
  point P10 (-2.981, 10.0467)
  point P11 (-2.981, 9.3733)
  point P12 (-1.7821, 7.2967)
  dimension "d124" = 5.5
extrude "Extrusion24" cut sketch "Skizze26" against normal blind 4
sketch "Skizze27" plane through (9.0396, -16.4352, 6.7533) normal (0.8575, 0, 0.5145) x (0.5145, 0, -0.8575)
  line L0 (-17.1233, 5) -> (-13.9483, 5) projected
  line L1 (-17.1233, 5) -> (-17.1233, 1) projected
  line L2 (-17.1233, 1) -> (-13.9483, 1) projected
  line L3 (-13.9483, 5) -> (-13.9483, 1) projected
  circle A0 centre (-15.5358, 2.5683) radius 1.4
  point P0 (1.1401, 16.4352)
  dimension "d127" = 2.8
extrude "Extrusion25" cut sketch "Skizze27" along normal mid plane 20 contours A0
pattern_circular "Runde Anordnung1" count 2 over 120 about axis through (-7.4556, -11.4352, 14.92) along (0, -1, 0) of "Extrusion25"
sketch "Skizze28" plane through (-7.4556, -11.4352, 24.63) normal (0, 1, 0) x (1, 0, 0)
  line L0 (-3.4952, -3.79) -> (-16.4952, 17.8767) projected
  line L1 (8.7935, -4.5498) -> (-5.7048, -4.5498)
  line L2 (-5.7048, -4.5498) -> (-5.7048, -0.1073)
  line L3 (-5.7048, -0.1073) -> (8.7935, -0.1073)
  line L4 (8.7935, -0.1073) -> (8.7935, -4.5498)
  point P0 (7.4556, 24.63)
extrude "Extrusion26" cut sketch "Skizze28" against normal blind 20
properties part number "30_Cube_Z_Focus_MGN_NEMA_slide_belt_part2"
